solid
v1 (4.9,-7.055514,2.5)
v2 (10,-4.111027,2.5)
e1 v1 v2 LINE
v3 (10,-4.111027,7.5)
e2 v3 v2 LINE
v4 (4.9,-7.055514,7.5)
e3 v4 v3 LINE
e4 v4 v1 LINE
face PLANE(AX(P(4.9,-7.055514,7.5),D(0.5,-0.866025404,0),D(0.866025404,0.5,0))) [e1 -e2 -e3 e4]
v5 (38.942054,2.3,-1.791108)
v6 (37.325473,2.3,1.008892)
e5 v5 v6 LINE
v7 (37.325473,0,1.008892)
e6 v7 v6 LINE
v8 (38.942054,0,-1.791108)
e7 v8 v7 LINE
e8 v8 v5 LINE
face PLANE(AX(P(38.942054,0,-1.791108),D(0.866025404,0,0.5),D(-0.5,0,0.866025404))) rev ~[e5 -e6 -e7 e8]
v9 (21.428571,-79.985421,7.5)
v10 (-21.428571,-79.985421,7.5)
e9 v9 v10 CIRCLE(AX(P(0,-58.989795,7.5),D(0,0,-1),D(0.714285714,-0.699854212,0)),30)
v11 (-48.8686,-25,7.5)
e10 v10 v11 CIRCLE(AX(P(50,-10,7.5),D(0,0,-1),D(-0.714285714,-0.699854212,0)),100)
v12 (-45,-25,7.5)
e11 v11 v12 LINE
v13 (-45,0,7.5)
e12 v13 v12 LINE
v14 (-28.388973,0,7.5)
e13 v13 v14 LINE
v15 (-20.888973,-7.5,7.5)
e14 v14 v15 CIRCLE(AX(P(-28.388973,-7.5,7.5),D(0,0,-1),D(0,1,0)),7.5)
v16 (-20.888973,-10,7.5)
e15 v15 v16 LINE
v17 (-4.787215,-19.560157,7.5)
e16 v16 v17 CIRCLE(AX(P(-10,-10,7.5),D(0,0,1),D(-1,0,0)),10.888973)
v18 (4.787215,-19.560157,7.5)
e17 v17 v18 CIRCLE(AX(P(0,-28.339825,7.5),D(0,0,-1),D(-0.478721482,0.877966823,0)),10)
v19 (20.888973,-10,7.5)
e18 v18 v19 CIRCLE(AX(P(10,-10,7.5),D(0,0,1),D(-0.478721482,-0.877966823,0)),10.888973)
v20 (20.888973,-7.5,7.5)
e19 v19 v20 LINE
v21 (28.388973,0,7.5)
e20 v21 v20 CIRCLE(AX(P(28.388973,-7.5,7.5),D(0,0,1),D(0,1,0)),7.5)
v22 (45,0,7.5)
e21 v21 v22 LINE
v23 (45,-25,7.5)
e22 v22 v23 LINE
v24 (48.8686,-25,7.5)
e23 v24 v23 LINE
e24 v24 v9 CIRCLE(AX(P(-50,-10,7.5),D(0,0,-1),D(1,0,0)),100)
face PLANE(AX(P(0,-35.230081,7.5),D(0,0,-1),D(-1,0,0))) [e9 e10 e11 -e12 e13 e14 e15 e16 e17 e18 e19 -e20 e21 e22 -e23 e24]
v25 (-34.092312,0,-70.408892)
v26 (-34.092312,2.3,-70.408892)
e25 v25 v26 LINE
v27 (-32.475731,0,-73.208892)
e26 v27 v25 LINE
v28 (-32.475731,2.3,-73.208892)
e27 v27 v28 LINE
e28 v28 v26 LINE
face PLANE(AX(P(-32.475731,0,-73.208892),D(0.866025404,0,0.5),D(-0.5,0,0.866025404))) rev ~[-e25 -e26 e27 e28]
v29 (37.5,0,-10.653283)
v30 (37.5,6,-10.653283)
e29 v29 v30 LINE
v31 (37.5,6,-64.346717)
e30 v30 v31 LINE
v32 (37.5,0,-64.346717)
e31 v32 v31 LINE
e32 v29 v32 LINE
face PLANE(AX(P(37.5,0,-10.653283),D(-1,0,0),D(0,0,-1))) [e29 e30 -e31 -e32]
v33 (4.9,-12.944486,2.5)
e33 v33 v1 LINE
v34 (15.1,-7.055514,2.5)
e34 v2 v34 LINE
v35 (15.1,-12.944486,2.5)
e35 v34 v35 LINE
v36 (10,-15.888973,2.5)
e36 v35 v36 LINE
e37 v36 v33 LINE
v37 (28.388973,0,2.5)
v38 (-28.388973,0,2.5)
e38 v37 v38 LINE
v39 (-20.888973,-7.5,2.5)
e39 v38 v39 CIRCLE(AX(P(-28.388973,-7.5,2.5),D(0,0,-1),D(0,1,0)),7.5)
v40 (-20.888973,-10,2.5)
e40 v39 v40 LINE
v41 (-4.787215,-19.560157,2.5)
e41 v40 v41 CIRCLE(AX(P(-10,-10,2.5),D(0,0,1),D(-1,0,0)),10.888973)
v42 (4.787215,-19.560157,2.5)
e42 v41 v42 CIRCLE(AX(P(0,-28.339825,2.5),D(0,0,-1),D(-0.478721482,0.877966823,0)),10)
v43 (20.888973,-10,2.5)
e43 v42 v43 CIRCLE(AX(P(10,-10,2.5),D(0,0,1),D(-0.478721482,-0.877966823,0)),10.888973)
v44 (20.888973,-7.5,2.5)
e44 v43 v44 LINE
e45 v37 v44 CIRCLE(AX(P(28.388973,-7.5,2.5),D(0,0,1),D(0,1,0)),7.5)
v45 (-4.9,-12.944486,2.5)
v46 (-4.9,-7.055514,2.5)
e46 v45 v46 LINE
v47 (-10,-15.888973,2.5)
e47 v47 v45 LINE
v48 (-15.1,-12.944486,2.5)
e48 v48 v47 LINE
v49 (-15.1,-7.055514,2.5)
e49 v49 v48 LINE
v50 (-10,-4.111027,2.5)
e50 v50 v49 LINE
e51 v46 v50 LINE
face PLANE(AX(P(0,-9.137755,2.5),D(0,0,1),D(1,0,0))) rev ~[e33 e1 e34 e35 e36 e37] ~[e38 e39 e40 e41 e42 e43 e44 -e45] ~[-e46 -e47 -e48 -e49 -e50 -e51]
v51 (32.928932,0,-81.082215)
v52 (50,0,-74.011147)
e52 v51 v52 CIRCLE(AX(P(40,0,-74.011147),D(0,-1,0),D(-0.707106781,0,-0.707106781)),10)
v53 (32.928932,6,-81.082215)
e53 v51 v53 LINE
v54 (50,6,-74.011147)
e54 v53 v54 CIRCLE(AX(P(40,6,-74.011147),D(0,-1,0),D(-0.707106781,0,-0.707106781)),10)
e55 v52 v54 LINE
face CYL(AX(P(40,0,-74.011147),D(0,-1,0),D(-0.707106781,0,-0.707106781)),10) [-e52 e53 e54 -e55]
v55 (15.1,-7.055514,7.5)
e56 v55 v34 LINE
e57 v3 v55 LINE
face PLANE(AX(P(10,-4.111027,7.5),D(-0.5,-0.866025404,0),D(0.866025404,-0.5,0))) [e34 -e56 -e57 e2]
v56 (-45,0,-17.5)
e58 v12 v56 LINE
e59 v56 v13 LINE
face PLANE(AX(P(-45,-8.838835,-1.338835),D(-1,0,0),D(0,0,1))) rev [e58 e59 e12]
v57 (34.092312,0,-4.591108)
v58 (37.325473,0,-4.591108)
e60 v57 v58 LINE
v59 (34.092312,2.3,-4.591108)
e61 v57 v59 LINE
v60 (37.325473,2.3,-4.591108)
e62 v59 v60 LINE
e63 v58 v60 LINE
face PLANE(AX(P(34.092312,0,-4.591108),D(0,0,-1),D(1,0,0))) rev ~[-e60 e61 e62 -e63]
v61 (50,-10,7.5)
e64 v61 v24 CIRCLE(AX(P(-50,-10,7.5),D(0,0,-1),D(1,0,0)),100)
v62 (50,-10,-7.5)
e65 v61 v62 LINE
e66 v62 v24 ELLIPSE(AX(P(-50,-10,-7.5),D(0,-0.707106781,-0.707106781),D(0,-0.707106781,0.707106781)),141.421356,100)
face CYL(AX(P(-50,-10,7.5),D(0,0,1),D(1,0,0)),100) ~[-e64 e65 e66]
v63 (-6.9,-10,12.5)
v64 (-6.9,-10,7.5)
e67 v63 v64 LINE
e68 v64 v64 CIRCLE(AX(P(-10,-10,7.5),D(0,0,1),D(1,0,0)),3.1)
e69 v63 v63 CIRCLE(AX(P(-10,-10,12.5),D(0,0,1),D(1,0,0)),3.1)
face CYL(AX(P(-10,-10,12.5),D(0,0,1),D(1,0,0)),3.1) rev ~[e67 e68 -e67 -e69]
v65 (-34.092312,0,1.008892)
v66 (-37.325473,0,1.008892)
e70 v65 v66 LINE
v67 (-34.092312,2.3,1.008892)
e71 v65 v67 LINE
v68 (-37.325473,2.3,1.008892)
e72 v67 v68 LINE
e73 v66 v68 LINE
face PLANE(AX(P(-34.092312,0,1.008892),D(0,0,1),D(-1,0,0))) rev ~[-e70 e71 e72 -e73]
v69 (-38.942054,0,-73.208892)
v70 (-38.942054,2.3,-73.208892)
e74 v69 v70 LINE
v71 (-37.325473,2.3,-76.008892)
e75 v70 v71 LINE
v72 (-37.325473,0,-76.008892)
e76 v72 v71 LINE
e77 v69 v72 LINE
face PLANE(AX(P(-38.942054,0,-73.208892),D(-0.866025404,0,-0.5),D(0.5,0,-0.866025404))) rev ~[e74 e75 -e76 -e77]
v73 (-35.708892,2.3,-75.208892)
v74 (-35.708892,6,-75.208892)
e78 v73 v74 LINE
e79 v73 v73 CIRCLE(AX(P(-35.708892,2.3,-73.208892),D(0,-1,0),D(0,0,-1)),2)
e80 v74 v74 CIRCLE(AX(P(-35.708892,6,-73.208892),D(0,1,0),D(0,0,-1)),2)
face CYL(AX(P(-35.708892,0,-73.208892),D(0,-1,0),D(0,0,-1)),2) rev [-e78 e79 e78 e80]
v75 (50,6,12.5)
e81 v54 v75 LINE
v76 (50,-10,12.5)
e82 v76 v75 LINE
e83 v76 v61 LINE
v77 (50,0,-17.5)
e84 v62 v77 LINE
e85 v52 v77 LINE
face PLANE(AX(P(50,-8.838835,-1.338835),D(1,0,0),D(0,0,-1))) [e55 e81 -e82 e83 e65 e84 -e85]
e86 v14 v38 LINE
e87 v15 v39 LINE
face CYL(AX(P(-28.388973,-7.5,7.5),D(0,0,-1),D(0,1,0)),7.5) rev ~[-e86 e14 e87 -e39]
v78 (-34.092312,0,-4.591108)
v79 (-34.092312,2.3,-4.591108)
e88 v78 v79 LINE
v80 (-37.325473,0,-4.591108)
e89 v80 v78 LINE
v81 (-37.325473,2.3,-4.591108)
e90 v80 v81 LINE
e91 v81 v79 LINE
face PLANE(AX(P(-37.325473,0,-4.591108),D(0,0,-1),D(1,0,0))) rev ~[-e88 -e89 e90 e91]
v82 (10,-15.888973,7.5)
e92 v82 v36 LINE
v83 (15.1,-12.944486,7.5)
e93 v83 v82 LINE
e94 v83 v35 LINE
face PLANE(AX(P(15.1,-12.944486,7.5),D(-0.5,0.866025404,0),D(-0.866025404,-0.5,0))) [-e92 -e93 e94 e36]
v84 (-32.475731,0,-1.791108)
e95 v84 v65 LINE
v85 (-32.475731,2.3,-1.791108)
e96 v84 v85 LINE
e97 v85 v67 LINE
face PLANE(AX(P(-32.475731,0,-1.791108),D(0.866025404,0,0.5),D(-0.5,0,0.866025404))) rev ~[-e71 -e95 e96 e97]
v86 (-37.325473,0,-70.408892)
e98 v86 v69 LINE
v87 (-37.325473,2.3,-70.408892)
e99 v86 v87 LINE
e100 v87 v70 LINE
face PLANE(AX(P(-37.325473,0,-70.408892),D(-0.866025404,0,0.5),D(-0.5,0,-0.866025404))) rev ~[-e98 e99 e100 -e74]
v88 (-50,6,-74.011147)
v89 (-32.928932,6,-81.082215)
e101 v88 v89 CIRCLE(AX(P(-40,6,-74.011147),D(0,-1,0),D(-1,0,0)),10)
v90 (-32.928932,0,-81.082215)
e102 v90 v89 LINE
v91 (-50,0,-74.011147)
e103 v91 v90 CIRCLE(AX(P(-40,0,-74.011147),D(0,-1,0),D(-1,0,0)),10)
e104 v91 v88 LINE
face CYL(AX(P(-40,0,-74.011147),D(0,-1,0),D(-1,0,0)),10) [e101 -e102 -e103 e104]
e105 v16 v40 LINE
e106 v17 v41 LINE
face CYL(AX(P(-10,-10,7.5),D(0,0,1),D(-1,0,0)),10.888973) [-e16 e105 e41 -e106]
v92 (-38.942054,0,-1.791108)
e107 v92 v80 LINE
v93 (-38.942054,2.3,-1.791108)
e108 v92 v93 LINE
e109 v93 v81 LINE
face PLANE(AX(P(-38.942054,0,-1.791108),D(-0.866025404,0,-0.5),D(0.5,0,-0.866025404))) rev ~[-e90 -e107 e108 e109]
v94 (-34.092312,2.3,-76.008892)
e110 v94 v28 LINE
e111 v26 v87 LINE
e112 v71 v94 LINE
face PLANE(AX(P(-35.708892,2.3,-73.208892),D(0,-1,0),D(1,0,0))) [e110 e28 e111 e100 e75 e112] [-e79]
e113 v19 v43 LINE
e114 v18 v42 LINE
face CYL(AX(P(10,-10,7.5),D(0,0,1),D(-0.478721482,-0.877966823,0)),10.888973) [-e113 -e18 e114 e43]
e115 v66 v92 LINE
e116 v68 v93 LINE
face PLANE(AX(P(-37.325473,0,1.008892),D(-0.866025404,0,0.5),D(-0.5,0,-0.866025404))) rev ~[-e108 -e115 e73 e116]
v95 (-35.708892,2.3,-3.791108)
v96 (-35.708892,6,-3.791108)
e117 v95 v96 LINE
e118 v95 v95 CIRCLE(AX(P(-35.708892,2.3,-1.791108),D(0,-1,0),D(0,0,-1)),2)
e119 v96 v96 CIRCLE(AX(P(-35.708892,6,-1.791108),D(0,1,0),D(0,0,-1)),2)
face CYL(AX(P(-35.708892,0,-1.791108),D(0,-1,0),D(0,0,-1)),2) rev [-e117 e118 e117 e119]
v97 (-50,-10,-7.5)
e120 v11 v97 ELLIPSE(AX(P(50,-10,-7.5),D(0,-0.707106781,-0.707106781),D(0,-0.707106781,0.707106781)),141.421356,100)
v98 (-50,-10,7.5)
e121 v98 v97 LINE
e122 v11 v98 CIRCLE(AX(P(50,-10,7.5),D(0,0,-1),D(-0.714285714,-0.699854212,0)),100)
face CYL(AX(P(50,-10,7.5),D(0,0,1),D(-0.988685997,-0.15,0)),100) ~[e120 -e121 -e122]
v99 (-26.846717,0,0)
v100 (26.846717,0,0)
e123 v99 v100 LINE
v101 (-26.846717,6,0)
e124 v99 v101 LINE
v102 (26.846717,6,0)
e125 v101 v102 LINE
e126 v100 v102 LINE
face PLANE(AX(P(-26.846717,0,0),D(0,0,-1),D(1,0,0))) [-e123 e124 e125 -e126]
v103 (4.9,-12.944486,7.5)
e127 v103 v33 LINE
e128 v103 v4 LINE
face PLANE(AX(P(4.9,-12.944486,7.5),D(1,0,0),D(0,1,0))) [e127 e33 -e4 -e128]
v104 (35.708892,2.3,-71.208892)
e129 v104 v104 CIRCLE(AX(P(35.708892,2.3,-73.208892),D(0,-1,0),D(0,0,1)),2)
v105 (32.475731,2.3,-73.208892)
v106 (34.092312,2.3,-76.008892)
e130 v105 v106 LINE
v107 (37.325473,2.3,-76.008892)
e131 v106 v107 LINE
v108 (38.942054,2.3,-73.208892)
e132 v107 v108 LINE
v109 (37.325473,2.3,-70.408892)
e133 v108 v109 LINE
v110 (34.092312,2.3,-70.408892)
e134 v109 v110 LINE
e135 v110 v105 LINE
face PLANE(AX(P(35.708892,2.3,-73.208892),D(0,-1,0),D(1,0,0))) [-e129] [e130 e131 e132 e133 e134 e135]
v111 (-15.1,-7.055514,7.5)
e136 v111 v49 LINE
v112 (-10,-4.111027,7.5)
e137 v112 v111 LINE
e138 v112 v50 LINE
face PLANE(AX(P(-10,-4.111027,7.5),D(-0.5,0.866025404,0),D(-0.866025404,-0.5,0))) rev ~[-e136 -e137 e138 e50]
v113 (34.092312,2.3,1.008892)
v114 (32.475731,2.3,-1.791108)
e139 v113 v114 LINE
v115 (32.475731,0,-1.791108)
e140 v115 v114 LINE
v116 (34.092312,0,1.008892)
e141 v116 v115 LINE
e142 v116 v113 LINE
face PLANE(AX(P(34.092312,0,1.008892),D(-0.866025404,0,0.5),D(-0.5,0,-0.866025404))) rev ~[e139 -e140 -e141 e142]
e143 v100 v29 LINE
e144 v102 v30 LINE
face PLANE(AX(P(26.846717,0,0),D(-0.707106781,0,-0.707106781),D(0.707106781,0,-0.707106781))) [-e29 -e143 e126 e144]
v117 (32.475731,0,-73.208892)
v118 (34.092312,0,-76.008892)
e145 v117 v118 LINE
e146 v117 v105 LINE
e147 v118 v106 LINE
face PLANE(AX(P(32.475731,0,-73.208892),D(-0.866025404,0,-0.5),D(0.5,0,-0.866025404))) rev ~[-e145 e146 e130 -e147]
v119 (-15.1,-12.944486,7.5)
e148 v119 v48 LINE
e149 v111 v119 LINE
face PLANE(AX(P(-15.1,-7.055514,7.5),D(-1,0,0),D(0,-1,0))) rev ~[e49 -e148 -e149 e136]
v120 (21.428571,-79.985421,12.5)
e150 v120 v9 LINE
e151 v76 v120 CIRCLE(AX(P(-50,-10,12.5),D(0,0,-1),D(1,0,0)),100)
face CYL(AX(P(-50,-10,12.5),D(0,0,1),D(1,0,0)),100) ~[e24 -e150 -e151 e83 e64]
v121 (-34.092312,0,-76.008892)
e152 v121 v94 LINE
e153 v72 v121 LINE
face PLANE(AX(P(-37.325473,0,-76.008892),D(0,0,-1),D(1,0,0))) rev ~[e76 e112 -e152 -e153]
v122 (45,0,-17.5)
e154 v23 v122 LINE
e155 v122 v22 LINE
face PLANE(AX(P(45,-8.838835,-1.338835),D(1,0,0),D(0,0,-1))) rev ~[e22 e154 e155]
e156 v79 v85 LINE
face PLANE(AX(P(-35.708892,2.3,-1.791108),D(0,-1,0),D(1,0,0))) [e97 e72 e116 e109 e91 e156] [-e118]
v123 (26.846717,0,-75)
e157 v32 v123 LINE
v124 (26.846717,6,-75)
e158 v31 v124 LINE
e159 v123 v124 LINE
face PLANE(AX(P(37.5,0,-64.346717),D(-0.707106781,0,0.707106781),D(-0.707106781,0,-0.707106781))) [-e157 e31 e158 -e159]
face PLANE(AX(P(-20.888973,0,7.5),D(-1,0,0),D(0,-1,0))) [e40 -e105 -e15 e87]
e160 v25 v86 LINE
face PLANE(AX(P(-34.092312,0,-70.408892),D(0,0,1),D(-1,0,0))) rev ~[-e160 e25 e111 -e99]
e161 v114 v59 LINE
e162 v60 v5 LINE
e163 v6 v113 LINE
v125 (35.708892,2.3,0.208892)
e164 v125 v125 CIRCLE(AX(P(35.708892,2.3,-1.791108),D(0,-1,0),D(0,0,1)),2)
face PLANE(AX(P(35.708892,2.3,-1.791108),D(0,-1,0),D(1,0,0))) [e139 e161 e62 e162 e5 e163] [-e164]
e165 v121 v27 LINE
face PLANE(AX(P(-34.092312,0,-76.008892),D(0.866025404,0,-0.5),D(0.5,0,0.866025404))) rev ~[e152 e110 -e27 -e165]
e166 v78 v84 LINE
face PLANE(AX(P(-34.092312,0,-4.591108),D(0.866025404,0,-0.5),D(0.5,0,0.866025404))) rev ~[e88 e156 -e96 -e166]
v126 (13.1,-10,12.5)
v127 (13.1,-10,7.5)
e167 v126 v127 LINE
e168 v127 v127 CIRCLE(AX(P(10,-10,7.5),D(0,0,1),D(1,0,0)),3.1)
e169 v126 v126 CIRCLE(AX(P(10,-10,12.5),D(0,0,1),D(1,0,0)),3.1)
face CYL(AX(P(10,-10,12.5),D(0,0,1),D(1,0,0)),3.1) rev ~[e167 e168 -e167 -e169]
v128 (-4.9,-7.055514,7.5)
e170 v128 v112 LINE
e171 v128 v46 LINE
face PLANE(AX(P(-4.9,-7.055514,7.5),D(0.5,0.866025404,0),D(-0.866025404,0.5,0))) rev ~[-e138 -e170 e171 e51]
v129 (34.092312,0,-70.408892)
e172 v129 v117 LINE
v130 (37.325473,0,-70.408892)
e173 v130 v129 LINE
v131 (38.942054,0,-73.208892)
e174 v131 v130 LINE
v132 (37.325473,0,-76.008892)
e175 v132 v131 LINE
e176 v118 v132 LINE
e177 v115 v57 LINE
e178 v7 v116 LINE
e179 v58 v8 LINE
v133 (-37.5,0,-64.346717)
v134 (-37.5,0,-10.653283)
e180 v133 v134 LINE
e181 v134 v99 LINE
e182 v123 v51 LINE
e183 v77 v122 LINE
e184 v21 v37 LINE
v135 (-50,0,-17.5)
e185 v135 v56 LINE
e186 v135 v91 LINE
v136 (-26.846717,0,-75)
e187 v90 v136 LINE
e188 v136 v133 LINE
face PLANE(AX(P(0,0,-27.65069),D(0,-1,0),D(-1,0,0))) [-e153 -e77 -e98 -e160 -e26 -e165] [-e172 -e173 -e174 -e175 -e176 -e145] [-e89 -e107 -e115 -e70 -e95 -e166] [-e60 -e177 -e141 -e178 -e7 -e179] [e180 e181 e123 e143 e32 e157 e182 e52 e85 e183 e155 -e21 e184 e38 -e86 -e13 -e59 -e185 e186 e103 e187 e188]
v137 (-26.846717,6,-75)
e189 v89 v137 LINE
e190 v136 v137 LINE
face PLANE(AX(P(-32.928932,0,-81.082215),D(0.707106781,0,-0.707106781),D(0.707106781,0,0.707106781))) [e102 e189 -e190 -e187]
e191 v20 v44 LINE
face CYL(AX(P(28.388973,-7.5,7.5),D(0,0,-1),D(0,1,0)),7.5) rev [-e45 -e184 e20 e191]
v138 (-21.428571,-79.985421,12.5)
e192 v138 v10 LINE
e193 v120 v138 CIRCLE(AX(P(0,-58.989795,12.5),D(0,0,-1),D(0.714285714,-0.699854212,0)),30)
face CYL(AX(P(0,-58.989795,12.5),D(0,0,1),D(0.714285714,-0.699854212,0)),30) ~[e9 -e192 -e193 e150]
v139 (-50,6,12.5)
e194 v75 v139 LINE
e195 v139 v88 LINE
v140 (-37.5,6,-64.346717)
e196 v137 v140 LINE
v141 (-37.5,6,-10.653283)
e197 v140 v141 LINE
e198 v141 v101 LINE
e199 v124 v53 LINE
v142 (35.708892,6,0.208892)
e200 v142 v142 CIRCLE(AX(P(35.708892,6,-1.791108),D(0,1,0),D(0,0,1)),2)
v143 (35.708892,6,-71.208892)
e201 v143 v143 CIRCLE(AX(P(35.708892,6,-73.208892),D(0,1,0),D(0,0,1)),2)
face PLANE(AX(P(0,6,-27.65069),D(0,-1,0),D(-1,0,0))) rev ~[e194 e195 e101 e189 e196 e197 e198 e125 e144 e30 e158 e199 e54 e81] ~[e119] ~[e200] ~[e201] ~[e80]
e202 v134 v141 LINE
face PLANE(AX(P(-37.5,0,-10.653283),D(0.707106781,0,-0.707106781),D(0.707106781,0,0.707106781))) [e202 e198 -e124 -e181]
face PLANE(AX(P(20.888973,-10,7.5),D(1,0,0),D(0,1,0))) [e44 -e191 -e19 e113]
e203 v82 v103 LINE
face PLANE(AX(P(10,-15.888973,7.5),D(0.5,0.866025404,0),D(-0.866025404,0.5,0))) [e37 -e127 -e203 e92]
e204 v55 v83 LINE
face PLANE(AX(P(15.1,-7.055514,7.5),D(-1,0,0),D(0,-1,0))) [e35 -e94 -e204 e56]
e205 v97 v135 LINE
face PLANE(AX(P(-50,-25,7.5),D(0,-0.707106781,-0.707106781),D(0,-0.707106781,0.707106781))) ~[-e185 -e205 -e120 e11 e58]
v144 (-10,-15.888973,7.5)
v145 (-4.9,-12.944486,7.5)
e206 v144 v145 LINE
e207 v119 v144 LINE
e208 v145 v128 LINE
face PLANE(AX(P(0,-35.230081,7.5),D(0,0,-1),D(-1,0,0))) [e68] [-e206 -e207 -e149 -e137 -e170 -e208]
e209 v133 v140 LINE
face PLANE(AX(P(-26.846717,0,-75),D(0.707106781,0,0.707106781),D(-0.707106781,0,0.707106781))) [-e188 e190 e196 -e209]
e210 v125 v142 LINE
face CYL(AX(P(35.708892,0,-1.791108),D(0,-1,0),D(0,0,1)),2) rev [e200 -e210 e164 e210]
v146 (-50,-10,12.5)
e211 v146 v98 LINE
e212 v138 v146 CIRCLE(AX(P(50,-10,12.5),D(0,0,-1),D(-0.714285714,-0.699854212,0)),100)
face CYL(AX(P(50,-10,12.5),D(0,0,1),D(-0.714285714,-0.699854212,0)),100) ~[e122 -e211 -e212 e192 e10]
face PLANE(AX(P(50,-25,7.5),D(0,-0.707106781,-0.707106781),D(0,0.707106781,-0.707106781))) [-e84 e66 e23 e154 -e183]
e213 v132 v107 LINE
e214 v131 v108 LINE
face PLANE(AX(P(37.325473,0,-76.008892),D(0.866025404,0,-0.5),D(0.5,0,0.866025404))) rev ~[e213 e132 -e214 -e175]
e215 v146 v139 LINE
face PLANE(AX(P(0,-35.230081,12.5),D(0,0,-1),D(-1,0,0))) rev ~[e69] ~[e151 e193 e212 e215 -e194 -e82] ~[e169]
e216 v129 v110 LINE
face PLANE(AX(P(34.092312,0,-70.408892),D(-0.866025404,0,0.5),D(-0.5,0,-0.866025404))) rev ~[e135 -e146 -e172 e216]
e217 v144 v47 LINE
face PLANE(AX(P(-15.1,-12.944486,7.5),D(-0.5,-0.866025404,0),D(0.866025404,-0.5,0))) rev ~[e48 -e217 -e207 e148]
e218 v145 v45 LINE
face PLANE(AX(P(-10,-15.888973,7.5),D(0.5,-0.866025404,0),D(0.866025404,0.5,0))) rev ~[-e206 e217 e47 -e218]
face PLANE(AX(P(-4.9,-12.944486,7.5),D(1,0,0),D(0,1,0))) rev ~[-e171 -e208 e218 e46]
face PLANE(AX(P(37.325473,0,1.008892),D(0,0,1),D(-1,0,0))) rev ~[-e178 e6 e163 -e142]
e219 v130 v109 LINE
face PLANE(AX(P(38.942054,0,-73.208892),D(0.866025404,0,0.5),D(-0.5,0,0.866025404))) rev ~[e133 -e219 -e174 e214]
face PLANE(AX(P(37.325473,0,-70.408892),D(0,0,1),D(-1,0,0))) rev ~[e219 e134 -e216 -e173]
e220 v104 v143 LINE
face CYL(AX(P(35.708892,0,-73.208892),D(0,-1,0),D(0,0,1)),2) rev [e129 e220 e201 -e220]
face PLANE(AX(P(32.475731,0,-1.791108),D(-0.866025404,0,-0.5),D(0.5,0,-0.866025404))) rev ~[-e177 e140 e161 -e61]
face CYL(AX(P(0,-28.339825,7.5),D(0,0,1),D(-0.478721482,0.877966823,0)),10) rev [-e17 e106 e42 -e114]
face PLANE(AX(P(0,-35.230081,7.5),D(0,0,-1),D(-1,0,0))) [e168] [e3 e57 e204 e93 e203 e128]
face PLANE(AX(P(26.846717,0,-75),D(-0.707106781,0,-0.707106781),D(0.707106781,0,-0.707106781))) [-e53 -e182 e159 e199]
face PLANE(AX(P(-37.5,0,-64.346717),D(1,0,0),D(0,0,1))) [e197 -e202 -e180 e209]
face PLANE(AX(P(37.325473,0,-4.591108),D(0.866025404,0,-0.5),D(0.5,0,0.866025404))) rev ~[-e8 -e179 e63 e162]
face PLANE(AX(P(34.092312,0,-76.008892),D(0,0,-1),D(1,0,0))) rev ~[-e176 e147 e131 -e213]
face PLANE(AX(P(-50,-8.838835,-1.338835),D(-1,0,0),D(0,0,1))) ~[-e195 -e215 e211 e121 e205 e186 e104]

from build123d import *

# Parameters (mm, degrees)
SKETCH1_R           = 2
BOSS_EXTRUDE1_DEPTH = 6
CUT_EXTRUDE1_DEPTH  = 2.3
SKETCH3_R           = 3.1
BOSS_EXTRUDE2_DEPTH = 5
BOSS_EXTRUDE3_DEPTH = 5
FILLET1_R           = 7.5
BOSS_EXTRUDE4_DEPTH = 5
CUT_EXTRUDE2_REACH  = 139.089


with BuildPart() as part:
    # Sketch1 → Boss-Extrude1 (new body)
    with BuildSketch(Plane(origin=(0, 0, 0), x_dir=(1, 0, 0), z_dir=(0, 1, 0))):
        with BuildLine():
            Line((26.846717088, 0), (37.5, 10.653282912))
            Line((37.5, 10.653282912), (37.5, 64.346717088))
            Line((37.5, 64.346717088), (26.846717088, 75))
            Line((26.846717088, 75), (32.928932188, 81.0822151))
            ThreePointArc((32.928932188, 81.0822151), (43.826834324, 83.249942613), (50, 74.011147288))
            Line((50, 74.011147288), (50, -12.5))
            Line((50, -12.5), (-50, -12.5))
            Line((-50, -12.5), (-50, 74.011147288))
            ThreePointArc((-50, 74.011147288), (-43.826834324, 83.249942613), (-32.928932188, 81.0822151))
            Line((-32.928932188, 81.0822151), (-26.846717088, 75))
            Line((-26.846717088, 75), (-37.5, 64.346717088))
            Line((-37.5, 64.346717088), (-37.5, 10.653282912))
            Line((-37.5, 10.653282912), (-26.846717088, 0))
            Line((-26.846717088, 0), (26.846717088, 0))
        make_face()
        with Locations(Location((35.70889245, 1.79110755, 0), (0, 0, 270))):
            Circle(SKETCH1_R, mode=Mode.SUBTRACT)
        with Locations(Location((-35.70889245, 1.79110755, 0), (0, 0, 90))):
            Circle(SKETCH1_R, mode=Mode.SUBTRACT)
        with Locations(Location((35.70889245, 73.20889245, 0), (0, 0, 270))):
            Circle(SKETCH1_R, mode=Mode.SUBTRACT)
        with Locations(Location((-35.70889245, 73.20889245, 0), (0, 0, 90))):
            Circle(SKETCH1_R, mode=Mode.SUBTRACT)
    extrude(amount=BOSS_EXTRUDE1_DEPTH)

    # Sketch2 → Cut-Extrude1 (cut)
    with BuildSketch(Plane.XZ):
        Polygon((-37.325473204, -70.40889245), (-38.942053957, -73.20889245), (-37.325473204, -76.00889245), (-34.092311696, -76.00889245), (-32.475730942, -73.20889245), (-34.092311696, -70.40889245), align=None)
        Polygon((-38.942053957, -1.79110755), (-37.325473204, -4.59110755), (-34.092311696, -4.59110755), (-32.475730942, -1.79110755), (-34.092311696, 1.00889245), (-37.325473204, 1.00889245), align=None)
        Polygon((34.092311696, 1.00889245), (32.475730942, -1.79110755), (34.092311696, -4.59110755), (37.325473204, -4.59110755), (38.942053957, -1.79110755), (37.325473204, 1.00889245), align=None)
        Polygon((32.475730942, -73.20889245), (34.092311696, -76.00889245), (37.325473204, -76.00889245), (38.942053957, -73.20889245), (37.325473204, -70.40889245), (34.092311696, -70.40889245), align=None)
    extrude(amount=-CUT_EXTRUDE1_DEPTH, mode=Mode.SUBTRACT)

    # Sketch3 → Boss-Extrude2 (add)
    with BuildSketch(Plane.XY.offset(12.5)):
        with BuildLine():
            Line((-50, 0), (50, 0))
            Line((50, 0), (50, -10))
            ThreePointArc((50, -10), (42.582009977, -47.796447301), (21.428571429, -79.985421222))
            ThreePointArc((21.428571429, -79.985421222), (0, -88.989794856), (-21.428571429, -79.985421222))
            ThreePointArc((-21.428571429, -79.985421222), (-42.582009977, -47.796447301), (-50, -10))
            Line((-50, -10), (-50, 0))
        make_face()
        with Locations((10, -10)):
            Circle(SKETCH3_R, mode=Mode.SUBTRACT)
        with Locations((-10, -10)):
            Circle(SKETCH3_R, mode=Mode.SUBTRACT)
    extrude(amount=-BOSS_EXTRUDE2_DEPTH)

    # Sketch4 → Boss-Extrude3 (add)
    with BuildSketch(Plane(origin=(0, 0, 7.5), x_dir=(-1, 0, 0), z_dir=(0, 0, -1))):
        with BuildLine():
            Line((-20.888972746, -10), (-20.888972746, 0))
            Line((-20.888972746, 0), (0, 0))
            Line((0, 0), (20.888972746, 0))
            Line((20.888972746, 0), (20.888972746, -10))
            ThreePointArc((20.888972746, -10), (15.559129957, -19.36300174), (4.787214825, -19.560156807))
            ThreePointArc((4.787214825, -19.560156807), (0, -18.339825037), (-4.787214825, -19.560156807))
            ThreePointArc((-4.787214825, -19.560156807), (-15.559129957, -19.36300174), (-20.888972746, -10))
        make_face()
        Polygon((-10, -4.111027254), (-15.1, -7.055513627), (-15.1, -12.944486373), (-10, -15.888972746), (-4.9, -12.944486373), (-4.9, -7.055513627), align=None, mode=Mode.SUBTRACT)
        Polygon((4.9, -7.055513627), (10, -4.111027254), (15.1, -7.055513627), (15.1, -12.944486373), (10, -15.888972746), (4.9, -12.944486373), align=None, mode=Mode.SUBTRACT)
    extrude(amount=BOSS_EXTRUDE3_DEPTH)

    # Fillet1
    fillet1_edges = [part.edges().sort_by_distance(p)[0] for p in [
        (-20.888972746, 0, 5),
        (20.888972746, 0, 5),
    ]]
    fillet(fillet1_edges, radius=FILLET1_R)

    # Sketch5 → Boss-Extrude4 (add)
    with BuildSketch(Plane(origin=(50, 0, 0), x_dir=(0, 0, -1), z_dir=(1, 0, 0))):
        Polygon((17.5, 0), (-7.5, 0), (-7.5, -25), align=None)
    boss_extrude4 = extrude(amount=-BOSS_EXTRUDE4_DEPTH)

    # Mirror1: Boss-Extrude4 across plane
    add(boss_extrude4.mirror(Plane(origin=(0, 0, 0), x_dir=(0, 0, 1), z_dir=(1, 0, 0))))

    # Sketch6 → Cut-Extrude2 (cut, up to next)
    with BuildSketch(Plane.XY.offset(7.5), mode=Mode.PRIVATE) as cut_extrude2_sk1:
        with BuildLine():
            Line((50, -25), (50, -10))
            ThreePointArc((50, -10), (49.71674876, -17.521304187), (48.868599666, -25))
            Line((48.868599666, -25), (50, -25))
        make_face()
    cut_extrude2_tool1 = extrude(cut_extrude2_sk1.sketch, amount=-CUT_EXTRUDE2_REACH, mode=Mode.PRIVATE) & part.part
    # Sketch6 → Cut-Extrude2 (cut, up to next)
    with BuildSketch(Plane.XY.offset(7.5), mode=Mode.PRIVATE) as cut_extrude2_sk2:
        with BuildLine():
            Line((-50, -10), (-50, -25))
            Line((-50, -25), (-48.868599666, -25))
            ThreePointArc((-48.868599666, -25), (-49.71674876, -17.521304187), (-50, -10))
        make_face()
    cut_extrude2_tool2 = extrude(cut_extrude2_sk2.sketch, amount=-CUT_EXTRUDE2_REACH, mode=Mode.PRIVATE) & part.part
    add(cut_extrude2_tool1.solids().sort_by_distance((49.660912, -21.254256, 7.5))[0], mode=Mode.SUBTRACT)
    add(cut_extrude2_tool2.solids().sort_by_distance((-49.660912, -21.254256, 7.5))[0], mode=Mode.SUBTRACT)


solid = part.part
